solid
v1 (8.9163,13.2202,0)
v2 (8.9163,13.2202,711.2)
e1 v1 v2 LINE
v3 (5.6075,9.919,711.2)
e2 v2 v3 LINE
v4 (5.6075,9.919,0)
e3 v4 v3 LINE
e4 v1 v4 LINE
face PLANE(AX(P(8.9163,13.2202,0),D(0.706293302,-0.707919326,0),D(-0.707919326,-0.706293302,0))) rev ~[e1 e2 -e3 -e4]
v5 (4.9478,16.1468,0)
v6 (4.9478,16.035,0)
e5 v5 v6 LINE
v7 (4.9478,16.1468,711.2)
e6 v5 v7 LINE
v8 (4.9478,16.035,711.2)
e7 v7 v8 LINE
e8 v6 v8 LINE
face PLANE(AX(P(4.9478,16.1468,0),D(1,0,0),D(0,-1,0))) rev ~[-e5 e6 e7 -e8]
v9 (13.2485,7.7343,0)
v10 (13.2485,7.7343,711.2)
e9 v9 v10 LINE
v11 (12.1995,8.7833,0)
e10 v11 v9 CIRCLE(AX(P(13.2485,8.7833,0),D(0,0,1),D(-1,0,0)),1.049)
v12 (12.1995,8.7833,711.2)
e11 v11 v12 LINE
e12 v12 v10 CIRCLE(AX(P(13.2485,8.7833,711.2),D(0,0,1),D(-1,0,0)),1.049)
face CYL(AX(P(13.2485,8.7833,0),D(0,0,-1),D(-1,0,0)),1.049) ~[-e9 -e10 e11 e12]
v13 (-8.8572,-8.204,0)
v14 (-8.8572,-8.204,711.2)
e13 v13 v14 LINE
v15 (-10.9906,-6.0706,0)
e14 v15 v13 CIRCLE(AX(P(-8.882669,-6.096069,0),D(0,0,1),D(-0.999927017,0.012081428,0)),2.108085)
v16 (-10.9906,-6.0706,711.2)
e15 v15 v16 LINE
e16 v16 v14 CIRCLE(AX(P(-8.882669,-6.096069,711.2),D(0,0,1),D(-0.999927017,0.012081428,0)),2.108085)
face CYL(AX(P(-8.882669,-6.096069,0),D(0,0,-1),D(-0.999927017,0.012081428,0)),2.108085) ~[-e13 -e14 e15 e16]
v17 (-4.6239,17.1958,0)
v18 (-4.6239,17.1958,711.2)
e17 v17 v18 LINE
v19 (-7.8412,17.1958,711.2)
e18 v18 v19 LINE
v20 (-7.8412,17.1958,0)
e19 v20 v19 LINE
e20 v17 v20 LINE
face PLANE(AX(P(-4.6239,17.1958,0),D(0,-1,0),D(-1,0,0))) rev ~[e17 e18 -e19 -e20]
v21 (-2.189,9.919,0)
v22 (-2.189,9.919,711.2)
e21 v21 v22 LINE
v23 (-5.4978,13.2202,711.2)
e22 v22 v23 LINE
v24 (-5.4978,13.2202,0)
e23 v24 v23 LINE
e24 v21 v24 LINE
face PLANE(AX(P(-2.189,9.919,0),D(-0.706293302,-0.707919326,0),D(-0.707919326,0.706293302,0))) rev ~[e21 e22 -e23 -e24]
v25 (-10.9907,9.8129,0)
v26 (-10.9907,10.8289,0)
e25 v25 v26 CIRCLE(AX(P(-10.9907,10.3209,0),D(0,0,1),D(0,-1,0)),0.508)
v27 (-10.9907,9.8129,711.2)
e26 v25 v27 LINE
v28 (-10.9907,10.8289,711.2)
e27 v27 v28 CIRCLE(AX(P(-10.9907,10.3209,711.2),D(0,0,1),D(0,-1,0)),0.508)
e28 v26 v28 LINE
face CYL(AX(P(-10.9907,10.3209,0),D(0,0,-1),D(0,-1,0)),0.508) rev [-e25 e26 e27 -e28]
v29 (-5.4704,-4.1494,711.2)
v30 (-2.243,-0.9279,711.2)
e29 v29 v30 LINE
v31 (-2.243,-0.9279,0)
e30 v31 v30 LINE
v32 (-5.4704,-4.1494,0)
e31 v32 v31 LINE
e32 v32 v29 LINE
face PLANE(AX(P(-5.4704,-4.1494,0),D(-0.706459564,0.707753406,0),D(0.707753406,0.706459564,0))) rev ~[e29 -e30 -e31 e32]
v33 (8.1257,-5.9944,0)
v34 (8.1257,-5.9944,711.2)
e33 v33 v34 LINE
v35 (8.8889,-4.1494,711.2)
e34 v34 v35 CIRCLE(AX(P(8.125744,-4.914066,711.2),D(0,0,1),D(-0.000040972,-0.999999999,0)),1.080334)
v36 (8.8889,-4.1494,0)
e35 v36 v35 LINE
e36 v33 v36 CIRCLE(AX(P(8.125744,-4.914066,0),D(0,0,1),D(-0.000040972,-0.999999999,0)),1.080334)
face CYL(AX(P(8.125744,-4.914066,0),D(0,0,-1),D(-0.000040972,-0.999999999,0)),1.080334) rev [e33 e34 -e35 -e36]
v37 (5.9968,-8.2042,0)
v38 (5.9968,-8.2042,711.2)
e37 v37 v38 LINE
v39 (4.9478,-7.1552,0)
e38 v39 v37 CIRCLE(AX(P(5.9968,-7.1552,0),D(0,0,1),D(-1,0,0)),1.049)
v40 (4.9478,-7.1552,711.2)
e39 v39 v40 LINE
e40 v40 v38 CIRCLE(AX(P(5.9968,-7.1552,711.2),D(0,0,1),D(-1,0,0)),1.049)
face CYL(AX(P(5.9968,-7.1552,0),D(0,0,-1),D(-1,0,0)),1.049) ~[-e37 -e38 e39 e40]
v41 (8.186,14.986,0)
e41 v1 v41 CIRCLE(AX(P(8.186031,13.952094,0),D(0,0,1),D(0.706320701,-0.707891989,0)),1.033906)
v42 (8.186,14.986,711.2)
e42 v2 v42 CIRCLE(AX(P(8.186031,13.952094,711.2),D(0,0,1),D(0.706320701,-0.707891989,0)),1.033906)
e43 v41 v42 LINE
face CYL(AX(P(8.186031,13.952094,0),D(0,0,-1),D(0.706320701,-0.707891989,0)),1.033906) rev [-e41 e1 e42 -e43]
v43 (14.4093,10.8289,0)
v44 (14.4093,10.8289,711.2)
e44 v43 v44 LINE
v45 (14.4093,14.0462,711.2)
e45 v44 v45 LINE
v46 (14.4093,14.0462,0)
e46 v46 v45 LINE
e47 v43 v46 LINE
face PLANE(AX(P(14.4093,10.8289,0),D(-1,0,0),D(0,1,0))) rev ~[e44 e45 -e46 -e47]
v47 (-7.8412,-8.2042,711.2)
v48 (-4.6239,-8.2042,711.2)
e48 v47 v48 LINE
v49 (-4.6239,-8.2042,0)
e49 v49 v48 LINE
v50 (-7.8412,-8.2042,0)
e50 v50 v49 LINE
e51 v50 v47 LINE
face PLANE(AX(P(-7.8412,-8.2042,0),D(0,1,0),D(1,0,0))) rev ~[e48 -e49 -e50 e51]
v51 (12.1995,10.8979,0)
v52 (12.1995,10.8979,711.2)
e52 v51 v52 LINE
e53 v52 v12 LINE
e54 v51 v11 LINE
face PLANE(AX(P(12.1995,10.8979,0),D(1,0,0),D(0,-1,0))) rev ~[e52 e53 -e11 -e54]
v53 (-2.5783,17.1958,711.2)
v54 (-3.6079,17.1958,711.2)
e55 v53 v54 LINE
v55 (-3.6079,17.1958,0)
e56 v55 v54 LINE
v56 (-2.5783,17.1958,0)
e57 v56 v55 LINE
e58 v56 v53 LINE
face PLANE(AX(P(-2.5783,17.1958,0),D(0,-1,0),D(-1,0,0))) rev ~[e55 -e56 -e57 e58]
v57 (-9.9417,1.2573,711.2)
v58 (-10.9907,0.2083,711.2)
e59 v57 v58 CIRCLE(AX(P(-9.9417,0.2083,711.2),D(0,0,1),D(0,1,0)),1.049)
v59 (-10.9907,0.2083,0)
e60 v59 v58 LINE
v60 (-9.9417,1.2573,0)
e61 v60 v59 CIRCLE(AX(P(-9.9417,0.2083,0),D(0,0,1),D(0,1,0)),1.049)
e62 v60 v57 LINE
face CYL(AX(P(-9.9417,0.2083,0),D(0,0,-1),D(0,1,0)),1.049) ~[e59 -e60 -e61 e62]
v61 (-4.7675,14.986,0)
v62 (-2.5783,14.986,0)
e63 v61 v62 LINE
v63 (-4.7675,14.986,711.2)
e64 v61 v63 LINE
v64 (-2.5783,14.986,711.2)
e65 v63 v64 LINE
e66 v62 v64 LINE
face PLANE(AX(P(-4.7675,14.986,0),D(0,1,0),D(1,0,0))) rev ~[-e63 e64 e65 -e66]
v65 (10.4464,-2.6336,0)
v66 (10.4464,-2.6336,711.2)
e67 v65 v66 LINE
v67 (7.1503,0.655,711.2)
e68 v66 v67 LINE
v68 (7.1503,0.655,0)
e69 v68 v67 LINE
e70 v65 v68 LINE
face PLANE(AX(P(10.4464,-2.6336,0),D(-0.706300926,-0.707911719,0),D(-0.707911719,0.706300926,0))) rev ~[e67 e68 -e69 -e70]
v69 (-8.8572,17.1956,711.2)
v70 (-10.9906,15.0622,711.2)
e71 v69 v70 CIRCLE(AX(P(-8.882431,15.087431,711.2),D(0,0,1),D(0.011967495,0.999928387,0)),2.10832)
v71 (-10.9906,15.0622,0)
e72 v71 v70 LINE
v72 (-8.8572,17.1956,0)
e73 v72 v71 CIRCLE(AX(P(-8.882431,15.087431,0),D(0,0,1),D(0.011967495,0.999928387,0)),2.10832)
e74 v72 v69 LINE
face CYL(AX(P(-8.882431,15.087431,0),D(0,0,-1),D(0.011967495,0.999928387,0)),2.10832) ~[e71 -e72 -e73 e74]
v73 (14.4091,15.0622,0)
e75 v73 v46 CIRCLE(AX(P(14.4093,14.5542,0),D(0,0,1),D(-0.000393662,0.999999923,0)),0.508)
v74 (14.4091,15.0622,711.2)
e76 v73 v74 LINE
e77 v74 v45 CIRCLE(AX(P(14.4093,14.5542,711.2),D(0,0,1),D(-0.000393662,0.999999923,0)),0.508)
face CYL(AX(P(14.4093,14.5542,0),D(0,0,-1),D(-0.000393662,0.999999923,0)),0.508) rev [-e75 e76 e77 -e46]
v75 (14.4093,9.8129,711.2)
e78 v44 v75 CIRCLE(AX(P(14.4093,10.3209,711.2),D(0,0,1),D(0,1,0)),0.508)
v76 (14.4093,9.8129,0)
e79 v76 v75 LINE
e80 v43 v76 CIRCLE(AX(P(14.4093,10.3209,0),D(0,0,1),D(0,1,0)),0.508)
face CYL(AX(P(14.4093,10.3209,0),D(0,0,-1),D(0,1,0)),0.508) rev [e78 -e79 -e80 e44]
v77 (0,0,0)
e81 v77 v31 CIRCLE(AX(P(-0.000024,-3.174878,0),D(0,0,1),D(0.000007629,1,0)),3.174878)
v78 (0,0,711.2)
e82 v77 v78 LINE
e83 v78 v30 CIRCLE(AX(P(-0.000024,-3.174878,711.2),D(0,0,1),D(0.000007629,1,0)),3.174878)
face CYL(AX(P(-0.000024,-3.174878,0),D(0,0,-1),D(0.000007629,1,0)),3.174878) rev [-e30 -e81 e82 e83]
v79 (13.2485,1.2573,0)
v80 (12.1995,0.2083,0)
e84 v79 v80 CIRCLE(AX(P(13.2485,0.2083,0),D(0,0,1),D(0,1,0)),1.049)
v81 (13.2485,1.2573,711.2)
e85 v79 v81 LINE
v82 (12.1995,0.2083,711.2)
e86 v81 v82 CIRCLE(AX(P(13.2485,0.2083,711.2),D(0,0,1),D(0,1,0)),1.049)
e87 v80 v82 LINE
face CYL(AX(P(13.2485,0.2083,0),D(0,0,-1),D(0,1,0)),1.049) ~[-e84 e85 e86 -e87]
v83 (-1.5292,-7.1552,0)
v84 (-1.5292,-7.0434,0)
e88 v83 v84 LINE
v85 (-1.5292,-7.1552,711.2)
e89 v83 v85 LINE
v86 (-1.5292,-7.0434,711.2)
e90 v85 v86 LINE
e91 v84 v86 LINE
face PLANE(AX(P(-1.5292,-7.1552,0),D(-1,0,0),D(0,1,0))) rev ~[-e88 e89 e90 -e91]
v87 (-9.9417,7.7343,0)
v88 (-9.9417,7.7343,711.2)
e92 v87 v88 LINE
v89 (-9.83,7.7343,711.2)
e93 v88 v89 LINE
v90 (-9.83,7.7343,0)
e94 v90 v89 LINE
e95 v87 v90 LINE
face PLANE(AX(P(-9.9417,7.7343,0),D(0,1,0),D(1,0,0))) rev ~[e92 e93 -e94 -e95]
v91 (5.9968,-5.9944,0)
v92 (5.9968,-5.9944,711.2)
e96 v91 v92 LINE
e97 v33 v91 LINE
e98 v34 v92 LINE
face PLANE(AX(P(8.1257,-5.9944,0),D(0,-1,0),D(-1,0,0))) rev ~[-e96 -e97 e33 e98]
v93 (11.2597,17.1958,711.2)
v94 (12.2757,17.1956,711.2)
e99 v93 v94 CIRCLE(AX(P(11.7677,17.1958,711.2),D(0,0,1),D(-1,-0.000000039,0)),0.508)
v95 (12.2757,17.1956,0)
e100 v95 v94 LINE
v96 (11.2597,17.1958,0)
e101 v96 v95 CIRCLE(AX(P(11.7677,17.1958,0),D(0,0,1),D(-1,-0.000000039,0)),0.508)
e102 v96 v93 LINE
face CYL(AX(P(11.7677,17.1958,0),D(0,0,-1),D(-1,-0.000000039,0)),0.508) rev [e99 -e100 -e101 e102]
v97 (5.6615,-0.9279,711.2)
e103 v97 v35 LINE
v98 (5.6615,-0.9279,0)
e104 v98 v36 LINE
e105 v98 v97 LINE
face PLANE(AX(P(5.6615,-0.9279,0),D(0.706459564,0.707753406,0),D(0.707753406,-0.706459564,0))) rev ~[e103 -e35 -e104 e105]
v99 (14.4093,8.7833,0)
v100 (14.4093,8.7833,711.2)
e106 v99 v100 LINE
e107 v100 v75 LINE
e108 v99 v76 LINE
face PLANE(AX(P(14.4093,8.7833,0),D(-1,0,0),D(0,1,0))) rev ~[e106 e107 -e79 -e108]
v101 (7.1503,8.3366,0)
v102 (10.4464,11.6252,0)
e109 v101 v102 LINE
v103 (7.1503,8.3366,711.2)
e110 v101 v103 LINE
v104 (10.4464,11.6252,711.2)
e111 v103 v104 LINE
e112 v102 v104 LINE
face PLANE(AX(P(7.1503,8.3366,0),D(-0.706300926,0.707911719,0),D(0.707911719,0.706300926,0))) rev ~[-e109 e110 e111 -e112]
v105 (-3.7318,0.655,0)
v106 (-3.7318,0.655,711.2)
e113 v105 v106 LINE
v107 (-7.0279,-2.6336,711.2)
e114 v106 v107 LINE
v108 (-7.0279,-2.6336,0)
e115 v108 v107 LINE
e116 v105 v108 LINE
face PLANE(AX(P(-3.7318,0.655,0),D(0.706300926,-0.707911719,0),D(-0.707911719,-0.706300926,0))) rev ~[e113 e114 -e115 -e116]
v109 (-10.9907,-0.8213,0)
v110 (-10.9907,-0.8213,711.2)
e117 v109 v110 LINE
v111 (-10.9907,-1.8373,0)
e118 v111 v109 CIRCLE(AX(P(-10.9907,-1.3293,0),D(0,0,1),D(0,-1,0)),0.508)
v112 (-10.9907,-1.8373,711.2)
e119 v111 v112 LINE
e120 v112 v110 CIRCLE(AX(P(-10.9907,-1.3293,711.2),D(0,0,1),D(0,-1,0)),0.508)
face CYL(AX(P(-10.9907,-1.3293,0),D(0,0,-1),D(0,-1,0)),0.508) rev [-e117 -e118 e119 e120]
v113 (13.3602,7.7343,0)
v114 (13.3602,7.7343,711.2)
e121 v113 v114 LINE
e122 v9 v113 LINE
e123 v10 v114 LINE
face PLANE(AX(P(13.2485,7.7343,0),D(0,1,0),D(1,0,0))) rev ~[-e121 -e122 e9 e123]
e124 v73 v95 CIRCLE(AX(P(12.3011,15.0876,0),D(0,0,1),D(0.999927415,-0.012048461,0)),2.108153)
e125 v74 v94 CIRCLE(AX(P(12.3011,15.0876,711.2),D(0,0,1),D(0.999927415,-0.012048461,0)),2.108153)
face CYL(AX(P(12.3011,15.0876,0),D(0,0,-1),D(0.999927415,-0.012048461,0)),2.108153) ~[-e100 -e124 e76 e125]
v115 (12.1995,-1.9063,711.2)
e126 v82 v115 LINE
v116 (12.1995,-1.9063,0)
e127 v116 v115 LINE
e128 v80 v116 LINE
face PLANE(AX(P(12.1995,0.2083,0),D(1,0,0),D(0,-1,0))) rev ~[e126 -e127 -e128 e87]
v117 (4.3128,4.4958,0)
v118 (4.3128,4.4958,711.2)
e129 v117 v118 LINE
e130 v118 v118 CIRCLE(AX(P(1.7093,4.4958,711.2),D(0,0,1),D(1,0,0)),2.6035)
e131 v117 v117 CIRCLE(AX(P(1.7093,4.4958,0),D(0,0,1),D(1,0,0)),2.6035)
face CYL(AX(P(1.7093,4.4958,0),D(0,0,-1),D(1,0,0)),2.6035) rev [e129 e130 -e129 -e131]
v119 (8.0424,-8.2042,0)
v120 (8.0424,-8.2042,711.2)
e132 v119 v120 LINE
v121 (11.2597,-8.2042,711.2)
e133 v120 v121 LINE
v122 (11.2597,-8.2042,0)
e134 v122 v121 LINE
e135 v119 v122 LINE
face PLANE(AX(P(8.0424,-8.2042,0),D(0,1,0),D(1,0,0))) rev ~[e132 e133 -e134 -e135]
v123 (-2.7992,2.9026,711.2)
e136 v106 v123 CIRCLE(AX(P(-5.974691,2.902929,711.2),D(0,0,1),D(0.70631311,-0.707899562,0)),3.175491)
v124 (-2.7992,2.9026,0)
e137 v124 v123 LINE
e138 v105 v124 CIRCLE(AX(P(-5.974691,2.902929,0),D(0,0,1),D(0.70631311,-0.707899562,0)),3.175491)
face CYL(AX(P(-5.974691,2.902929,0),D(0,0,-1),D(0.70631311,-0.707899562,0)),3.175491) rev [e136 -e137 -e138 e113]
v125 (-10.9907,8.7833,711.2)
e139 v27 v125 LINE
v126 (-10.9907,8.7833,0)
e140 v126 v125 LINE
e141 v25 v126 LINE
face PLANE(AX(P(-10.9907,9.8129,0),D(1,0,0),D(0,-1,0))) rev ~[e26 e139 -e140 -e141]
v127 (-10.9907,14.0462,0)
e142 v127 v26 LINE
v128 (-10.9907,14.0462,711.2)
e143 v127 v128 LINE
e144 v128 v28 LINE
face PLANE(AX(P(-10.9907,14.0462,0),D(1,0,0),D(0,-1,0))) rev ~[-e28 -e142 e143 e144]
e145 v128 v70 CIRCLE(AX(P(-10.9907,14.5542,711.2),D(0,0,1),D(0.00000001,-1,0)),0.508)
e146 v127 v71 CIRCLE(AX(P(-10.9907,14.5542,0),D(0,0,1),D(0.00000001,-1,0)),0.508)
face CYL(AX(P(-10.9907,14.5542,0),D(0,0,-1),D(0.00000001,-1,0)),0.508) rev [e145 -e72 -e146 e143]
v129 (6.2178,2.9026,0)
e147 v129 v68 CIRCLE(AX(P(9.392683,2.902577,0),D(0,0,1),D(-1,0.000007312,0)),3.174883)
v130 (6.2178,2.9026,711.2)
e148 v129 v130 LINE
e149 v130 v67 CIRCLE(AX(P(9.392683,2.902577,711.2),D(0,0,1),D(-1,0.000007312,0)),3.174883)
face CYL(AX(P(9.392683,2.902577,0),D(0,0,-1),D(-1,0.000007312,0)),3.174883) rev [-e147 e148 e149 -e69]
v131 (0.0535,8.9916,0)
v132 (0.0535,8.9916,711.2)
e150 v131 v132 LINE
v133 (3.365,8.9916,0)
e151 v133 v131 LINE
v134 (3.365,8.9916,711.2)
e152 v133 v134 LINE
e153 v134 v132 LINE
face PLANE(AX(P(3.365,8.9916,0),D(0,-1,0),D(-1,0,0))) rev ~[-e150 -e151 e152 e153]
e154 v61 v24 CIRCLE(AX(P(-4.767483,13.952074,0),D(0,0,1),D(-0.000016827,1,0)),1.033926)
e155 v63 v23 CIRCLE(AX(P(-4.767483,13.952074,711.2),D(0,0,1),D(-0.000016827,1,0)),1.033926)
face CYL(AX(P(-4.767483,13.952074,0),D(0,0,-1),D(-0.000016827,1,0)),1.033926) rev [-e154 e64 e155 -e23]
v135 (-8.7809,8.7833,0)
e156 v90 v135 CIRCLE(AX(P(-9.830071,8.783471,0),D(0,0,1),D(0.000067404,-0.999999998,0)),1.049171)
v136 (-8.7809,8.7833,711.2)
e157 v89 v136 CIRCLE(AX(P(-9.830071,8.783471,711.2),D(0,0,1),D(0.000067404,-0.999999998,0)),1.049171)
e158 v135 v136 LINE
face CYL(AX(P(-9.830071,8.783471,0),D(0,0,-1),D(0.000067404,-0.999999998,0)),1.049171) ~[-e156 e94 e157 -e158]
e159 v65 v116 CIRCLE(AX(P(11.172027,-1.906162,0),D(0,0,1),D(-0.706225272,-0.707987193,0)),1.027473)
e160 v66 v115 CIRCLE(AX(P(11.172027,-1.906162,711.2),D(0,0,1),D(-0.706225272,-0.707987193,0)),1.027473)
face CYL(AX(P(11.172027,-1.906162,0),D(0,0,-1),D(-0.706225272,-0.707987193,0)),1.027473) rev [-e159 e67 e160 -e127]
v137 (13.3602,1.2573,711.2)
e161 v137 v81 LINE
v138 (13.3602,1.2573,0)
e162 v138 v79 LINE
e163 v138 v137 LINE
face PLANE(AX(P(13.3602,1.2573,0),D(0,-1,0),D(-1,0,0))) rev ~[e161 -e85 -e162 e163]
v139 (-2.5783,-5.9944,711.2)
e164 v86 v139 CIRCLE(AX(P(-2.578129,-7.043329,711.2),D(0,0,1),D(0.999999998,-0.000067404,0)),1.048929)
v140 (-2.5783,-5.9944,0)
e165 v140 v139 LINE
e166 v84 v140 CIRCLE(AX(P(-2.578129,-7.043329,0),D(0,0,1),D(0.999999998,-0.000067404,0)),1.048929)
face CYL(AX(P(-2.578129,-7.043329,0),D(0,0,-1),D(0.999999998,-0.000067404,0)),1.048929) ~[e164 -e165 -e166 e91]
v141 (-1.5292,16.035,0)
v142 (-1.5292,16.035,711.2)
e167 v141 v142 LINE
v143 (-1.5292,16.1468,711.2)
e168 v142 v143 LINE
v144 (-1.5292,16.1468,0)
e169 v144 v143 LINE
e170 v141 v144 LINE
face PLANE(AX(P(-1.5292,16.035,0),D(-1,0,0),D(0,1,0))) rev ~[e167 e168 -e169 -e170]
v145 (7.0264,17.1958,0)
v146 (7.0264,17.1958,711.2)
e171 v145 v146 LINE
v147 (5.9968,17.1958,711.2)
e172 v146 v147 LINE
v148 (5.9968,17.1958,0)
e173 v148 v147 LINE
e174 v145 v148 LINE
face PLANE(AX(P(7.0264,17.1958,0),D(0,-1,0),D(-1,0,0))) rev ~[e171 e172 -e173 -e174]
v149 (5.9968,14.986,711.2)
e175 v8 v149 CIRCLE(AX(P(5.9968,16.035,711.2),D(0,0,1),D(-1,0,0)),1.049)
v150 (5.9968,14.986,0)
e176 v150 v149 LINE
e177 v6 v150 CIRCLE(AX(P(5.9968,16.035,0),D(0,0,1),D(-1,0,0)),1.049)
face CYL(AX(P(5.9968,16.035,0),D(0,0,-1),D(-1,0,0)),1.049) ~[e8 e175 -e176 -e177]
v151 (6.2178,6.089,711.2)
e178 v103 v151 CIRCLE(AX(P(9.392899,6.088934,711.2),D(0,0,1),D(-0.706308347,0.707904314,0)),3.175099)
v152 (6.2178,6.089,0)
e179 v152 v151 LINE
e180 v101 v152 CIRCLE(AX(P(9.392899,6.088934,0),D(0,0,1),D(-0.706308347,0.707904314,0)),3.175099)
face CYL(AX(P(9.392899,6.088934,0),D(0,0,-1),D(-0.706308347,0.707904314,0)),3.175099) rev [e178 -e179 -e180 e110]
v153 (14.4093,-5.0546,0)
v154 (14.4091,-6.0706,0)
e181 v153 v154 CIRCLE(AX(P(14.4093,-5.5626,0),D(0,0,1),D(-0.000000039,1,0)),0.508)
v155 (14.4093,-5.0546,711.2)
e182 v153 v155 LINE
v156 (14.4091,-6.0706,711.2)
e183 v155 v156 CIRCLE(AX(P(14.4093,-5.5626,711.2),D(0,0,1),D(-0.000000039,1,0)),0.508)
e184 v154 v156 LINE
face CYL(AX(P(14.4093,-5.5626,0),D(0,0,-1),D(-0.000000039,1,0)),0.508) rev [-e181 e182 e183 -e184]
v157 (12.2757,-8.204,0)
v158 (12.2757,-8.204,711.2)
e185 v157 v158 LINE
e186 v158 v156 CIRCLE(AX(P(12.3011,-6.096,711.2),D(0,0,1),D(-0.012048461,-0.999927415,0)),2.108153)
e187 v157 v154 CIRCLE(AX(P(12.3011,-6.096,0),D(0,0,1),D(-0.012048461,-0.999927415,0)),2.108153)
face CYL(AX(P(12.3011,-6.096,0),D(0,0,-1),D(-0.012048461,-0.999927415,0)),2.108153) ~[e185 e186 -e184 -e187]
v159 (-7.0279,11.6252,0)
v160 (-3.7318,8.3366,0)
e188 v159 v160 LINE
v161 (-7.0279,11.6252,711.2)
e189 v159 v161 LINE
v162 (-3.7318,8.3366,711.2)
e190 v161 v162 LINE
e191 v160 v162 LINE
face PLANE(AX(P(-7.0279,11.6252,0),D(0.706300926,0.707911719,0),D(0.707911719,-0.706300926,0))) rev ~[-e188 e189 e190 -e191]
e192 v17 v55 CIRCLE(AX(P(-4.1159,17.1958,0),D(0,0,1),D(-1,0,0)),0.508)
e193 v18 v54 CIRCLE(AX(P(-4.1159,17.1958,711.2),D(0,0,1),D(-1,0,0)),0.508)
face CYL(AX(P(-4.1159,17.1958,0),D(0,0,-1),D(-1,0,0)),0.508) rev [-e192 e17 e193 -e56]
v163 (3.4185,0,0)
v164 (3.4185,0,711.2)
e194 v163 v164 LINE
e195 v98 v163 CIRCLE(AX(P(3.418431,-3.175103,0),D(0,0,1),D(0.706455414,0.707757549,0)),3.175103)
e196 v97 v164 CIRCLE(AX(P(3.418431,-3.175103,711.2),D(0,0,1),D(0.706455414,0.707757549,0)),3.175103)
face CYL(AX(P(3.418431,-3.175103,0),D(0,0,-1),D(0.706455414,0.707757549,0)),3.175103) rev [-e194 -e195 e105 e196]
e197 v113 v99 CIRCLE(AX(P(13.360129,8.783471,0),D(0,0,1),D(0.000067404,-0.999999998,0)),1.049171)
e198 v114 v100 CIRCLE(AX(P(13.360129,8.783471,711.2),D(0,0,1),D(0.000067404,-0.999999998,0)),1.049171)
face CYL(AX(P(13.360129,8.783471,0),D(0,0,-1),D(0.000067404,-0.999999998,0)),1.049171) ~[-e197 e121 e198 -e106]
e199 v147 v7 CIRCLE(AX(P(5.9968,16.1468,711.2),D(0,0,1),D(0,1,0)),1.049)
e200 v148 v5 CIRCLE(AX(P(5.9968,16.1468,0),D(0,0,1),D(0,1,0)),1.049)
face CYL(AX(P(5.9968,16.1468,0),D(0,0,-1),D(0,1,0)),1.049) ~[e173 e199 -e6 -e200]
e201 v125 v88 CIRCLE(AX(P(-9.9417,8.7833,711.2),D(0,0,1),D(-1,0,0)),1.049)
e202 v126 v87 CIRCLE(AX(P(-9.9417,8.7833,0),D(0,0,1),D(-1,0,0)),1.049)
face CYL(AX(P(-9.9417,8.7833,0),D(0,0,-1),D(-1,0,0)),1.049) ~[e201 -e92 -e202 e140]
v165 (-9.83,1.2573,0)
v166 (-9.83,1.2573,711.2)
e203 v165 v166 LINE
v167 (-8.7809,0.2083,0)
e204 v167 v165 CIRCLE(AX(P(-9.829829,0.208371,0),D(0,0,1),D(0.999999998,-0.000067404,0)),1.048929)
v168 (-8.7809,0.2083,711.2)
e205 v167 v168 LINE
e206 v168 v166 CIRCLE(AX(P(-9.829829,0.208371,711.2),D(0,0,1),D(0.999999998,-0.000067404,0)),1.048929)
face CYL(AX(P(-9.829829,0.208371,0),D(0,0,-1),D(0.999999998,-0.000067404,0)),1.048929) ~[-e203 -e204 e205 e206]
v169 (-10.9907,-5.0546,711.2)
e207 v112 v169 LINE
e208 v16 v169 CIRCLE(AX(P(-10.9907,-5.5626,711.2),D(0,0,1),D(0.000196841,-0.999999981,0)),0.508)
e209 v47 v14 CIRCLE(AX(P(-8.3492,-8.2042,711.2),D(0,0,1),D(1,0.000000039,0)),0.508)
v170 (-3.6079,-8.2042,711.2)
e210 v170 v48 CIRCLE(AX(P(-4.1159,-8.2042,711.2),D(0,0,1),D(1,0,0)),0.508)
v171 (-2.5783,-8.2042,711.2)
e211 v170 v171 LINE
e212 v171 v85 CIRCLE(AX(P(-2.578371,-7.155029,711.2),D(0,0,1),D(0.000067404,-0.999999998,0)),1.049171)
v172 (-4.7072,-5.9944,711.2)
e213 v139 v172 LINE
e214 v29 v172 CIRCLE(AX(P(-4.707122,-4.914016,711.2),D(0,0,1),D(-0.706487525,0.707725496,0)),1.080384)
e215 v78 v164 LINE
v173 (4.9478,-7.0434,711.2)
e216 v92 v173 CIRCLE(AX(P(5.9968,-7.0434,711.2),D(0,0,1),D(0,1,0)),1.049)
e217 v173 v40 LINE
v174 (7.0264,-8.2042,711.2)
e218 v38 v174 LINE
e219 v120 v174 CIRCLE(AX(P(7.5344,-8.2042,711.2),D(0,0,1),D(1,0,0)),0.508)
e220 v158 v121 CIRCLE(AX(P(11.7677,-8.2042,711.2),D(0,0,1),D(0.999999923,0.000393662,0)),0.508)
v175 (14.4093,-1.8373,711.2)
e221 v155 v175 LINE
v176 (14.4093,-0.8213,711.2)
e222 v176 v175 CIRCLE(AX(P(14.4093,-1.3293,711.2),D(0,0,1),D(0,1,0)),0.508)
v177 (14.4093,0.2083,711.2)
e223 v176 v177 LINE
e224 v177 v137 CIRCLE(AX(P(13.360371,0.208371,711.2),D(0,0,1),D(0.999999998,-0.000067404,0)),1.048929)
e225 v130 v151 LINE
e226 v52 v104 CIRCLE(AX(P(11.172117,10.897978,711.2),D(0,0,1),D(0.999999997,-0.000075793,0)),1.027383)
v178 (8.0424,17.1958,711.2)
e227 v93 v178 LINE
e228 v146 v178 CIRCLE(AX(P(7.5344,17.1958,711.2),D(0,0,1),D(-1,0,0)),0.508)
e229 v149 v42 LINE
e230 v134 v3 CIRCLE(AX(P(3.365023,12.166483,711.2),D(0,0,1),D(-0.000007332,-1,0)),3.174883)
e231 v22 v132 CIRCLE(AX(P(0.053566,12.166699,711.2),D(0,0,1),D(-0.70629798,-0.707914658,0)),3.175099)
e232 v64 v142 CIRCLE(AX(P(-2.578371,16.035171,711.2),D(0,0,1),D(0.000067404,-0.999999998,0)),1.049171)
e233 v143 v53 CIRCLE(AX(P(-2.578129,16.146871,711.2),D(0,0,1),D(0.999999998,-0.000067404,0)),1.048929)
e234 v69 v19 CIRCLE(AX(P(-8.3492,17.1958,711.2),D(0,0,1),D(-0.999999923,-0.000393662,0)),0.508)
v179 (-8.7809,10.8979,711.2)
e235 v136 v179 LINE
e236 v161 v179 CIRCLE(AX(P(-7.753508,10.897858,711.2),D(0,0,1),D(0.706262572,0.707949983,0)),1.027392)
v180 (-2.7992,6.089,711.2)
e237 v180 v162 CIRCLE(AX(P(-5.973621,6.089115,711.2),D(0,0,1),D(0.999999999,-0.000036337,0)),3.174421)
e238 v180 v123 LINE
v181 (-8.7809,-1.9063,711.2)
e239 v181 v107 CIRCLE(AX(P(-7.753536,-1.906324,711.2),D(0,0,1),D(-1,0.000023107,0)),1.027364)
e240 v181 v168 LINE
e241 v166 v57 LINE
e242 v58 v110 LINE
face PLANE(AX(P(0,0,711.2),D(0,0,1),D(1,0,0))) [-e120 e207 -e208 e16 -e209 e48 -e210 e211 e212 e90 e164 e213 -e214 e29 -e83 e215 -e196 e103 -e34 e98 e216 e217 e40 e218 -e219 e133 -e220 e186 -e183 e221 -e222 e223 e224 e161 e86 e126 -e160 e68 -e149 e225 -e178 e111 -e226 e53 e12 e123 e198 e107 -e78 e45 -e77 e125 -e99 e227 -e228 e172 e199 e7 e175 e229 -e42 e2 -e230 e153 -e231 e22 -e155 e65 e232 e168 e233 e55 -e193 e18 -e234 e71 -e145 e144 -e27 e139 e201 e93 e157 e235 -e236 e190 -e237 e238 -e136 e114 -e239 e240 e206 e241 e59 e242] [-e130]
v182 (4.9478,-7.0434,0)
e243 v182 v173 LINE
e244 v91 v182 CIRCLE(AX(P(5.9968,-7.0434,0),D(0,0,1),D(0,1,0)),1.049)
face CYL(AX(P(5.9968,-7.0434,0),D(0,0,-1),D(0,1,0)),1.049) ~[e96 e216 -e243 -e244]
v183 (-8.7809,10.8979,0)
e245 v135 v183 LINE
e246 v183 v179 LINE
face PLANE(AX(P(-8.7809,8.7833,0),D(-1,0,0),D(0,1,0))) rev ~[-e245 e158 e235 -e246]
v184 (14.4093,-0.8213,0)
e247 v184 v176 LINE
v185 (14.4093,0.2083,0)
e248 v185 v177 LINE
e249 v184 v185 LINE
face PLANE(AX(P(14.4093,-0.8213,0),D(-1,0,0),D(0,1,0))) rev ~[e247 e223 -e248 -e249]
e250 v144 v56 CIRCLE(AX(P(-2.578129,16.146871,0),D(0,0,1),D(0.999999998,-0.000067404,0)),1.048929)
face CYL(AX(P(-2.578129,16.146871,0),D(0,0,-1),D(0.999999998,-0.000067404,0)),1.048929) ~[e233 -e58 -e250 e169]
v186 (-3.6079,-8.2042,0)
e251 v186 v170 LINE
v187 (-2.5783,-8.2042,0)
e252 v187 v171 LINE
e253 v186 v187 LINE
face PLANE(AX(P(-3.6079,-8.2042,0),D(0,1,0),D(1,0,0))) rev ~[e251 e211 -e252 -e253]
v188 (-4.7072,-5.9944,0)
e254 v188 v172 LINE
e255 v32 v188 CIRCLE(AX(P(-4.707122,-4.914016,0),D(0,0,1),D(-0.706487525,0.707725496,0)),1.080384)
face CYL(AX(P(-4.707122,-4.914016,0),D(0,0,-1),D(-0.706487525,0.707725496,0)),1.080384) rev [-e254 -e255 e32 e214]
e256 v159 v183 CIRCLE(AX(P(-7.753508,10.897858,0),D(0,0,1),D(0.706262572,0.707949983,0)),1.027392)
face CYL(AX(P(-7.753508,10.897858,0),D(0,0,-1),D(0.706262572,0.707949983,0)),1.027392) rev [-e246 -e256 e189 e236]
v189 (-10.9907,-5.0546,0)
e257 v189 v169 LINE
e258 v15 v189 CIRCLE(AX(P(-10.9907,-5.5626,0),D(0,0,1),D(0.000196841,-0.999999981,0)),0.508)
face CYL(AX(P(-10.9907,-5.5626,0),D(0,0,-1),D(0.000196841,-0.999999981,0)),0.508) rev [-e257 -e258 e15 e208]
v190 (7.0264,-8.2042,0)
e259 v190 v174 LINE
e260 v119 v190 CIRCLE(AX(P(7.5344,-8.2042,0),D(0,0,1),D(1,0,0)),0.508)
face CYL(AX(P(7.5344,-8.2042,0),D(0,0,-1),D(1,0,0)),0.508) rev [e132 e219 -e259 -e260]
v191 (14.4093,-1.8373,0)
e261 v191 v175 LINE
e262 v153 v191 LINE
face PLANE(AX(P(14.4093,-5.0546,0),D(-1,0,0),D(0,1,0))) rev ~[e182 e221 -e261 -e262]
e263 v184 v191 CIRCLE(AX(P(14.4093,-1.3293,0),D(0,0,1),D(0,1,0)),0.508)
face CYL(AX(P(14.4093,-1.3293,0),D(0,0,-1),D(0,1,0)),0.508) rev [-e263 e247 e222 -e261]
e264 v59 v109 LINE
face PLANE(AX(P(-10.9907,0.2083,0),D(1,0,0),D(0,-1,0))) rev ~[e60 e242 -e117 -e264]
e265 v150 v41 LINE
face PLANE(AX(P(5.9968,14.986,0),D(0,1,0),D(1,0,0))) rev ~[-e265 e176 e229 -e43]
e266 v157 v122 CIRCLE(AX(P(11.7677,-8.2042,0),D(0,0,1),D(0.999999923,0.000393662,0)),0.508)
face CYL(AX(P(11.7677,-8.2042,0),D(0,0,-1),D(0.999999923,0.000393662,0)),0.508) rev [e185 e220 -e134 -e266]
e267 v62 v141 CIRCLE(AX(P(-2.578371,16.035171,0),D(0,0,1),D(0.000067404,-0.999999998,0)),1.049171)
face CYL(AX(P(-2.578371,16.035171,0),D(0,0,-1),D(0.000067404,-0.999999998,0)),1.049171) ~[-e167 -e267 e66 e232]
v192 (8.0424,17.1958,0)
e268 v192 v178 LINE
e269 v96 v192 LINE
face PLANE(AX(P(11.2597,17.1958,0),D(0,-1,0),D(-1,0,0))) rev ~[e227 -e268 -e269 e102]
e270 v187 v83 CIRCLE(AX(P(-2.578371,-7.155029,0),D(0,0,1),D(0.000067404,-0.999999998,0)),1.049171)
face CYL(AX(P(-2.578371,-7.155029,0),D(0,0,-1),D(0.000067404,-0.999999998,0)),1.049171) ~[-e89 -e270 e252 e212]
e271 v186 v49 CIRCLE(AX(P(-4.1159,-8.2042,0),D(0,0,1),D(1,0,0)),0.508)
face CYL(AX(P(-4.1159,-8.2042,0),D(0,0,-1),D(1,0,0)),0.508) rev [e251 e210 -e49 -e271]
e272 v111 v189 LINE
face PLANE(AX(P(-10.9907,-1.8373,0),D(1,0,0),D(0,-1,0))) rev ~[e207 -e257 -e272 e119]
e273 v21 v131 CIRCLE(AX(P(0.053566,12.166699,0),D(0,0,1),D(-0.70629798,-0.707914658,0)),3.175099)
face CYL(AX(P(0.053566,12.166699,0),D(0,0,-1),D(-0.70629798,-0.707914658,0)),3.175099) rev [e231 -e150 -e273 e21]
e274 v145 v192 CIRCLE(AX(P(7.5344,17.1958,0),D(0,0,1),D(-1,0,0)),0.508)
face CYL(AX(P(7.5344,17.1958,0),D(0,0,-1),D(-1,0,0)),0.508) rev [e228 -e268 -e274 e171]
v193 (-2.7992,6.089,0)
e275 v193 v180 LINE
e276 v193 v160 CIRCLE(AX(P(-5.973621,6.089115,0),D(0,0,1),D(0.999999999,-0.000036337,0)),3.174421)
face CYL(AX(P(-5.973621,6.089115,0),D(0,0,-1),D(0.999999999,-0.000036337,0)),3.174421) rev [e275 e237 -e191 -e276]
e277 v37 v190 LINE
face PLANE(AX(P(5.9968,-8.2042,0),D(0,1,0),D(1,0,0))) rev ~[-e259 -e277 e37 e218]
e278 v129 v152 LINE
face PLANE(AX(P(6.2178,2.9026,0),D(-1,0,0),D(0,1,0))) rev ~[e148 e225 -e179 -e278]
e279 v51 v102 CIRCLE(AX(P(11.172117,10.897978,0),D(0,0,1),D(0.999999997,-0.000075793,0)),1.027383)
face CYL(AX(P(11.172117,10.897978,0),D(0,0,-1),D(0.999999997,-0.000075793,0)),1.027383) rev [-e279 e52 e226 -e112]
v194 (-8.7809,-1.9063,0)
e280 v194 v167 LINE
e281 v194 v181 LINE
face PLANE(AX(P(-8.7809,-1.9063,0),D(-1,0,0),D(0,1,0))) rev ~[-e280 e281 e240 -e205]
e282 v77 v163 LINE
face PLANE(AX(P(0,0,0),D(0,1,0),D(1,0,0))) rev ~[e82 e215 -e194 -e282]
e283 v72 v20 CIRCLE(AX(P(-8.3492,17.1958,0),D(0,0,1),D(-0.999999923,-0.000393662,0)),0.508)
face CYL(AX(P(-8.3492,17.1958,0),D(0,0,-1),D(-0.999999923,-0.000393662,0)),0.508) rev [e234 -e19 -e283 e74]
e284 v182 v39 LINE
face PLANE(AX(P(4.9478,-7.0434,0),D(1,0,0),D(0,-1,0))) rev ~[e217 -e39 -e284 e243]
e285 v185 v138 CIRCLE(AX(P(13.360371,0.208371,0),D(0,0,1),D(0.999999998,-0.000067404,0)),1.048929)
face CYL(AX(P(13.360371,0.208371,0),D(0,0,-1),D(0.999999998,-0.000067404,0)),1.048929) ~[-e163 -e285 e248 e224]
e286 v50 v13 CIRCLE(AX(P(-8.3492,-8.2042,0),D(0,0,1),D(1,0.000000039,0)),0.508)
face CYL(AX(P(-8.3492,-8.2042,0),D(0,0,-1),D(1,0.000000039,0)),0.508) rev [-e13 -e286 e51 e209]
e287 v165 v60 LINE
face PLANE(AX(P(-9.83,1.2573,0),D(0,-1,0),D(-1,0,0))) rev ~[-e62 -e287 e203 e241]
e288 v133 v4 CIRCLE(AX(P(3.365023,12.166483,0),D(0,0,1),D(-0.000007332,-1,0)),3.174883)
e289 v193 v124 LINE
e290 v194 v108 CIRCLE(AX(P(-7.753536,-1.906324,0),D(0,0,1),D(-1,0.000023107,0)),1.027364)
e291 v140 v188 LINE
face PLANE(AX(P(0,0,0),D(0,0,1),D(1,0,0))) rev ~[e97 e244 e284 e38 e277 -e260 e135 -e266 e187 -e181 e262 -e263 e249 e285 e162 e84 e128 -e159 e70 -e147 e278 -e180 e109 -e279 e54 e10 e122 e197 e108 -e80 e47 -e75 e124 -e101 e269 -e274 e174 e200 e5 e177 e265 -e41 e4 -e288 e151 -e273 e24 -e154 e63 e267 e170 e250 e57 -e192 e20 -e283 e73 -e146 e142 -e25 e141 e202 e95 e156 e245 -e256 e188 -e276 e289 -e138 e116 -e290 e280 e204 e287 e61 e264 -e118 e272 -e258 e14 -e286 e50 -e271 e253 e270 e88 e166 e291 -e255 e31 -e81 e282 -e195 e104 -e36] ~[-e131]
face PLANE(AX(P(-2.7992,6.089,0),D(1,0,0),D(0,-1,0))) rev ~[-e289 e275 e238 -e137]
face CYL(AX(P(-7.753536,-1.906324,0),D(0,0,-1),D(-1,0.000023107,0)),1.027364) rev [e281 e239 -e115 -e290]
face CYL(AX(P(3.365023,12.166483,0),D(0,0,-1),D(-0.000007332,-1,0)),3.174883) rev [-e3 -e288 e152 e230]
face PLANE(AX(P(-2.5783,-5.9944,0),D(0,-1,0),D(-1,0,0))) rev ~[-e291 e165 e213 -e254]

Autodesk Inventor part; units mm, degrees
ref_plane "YZ Plane" through (0, 0, 0) normal (1, 0, 0) x (0, 1, 0)
ref_plane "XZ Plane" through (0, 0, 0) normal (0, 1, 0) x (-1, 0, 0)
ref_plane "XY Plane" through (0, 0, 0) normal (0, 0, 1) x (1, 0, 0)
sketch "Sketch1" plane through (0, 0, 0) normal (0, 0, 1) x (1, 0, 0)
  arc A0 (-5.4704, -4.1494) -> (-4.7072, -5.9944) centre (-4.7072, -4.914) ccw
  line L0 (-5.4704, -4.1494) -> (-2.243, -0.9279)
  arc A1 (0, 0) -> (-2.243, -0.9279) centre (0, -3.175) ccw
  line L1 (0, 0) -> (3.4185, 0)
  arc A2 (5.6615, -0.9279) -> (3.4185, 0) centre (3.4185, -3.175) ccw
  line L2 (5.6615, -0.9279) -> (8.8889, -4.1494)
  arc A3 (8.1257, -5.9944) -> (8.8889, -4.1494) centre (8.1257, -4.914) ccw
  line L3 (8.1257, -5.9944) -> (5.9968, -5.9944)
  arc A4 (5.9968, -5.9944) -> (4.9478, -7.0434) centre (5.9968, -7.0434) ccw
  line L4 (4.9478, -7.0434) -> (4.9478, -7.1552)
  arc A5 (4.9478, -7.1552) -> (5.9968, -8.2042) centre (5.9968, -7.1552) ccw
  line L5 (5.9968, -8.2042) -> (7.0264, -8.2042)
  arc A6 (8.0424, -8.2042) -> (7.0264, -8.2042) centre (7.5344, -8.2042) ccw
  line L6 (8.0424, -8.2042) -> (11.2597, -8.2042)
  arc A7 (12.2757, -8.204) -> (11.2597, -8.2042) centre (11.7677, -8.2042) ccw
  arc A8 (12.2757, -8.204) -> (14.4091, -6.0706) centre (12.3011, -6.096) ccw
  arc A9 (14.4093, -5.0546) -> (14.4091, -6.0706) centre (14.4093, -5.5626) ccw
  line L7 (14.4093, -5.0546) -> (14.4093, -1.8373)
  arc A10 (14.4093, -0.8213) -> (14.4093, -1.8373) centre (14.4093, -1.3293) ccw
  line L8 (14.4093, -0.8213) -> (14.4093, 0.2083)
  arc A11 (14.4093, 0.2083) -> (13.3602, 1.2573) centre (13.3602, 0.2083) ccw
  line L9 (13.3602, 1.2573) -> (13.2485, 1.2573)
  arc A12 (13.2485, 1.2573) -> (12.1995, 0.2083) centre (13.2485, 0.2083) ccw
  line L10 (12.1995, 0.2083) -> (12.1995, -1.9063)
  arc A13 (10.4464, -2.6336) -> (12.1995, -1.9063) centre (11.172, -1.9063) ccw
  line L11 (10.4464, -2.6336) -> (7.1503, 0.655)
  arc A14 (6.2178, 2.9026) -> (7.1503, 0.655) centre (9.3928, 2.9026) ccw
  line L12 (6.2178, 2.9026) -> (6.2178, 6.089)
  arc A15 (7.1503, 8.3366) -> (6.2178, 6.089) centre (9.3928, 6.089) ccw
  line L13 (7.1503, 8.3366) -> (10.4464, 11.6252)
  arc A16 (12.1995, 10.8979) -> (10.4464, 11.6252) centre (11.172, 10.8979) ccw
  line L14 (12.1995, 10.8979) -> (12.1995, 8.7833)
  arc A17 (12.1995, 8.7833) -> (13.2485, 7.7343) centre (13.2485, 8.7833) ccw
  line L15 (13.2485, 7.7343) -> (13.3602, 7.7343)
  arc A18 (13.3602, 7.7343) -> (14.4093, 8.7833) centre (13.3602, 8.7833) ccw
  line L16 (14.4093, 8.7833) -> (14.4093, 9.8129)
  arc A19 (14.4093, 10.8289) -> (14.4093, 9.8129) centre (14.4093, 10.3209) ccw
  line L17 (14.4093, 10.8289) -> (14.4093, 14.0462)
  arc A20 (14.4091, 15.0622) -> (14.4093, 14.0462) centre (14.4093, 14.5542) ccw
  arc A21 (14.4091, 15.0622) -> (12.2757, 17.1956) centre (12.3011, 15.0876) ccw
  arc A22 (11.2597, 17.1958) -> (12.2757, 17.1956) centre (11.7677, 17.1958) ccw
  line L18 (11.2597, 17.1958) -> (8.0424, 17.1958)
  arc A23 (7.0264, 17.1958) -> (8.0424, 17.1958) centre (7.5344, 17.1958) ccw
  line L19 (7.0264, 17.1958) -> (5.9968, 17.1958)
  arc A24 (5.9968, 17.1958) -> (4.9478, 16.1468) centre (5.9968, 16.1468) ccw
  line L20 (4.9478, 16.1468) -> (4.9478, 16.035)
  arc A25 (4.9478, 16.035) -> (5.9968, 14.986) centre (5.9968, 16.035) ccw
  line L21 (5.9968, 14.986) -> (8.186, 14.986)
  arc A26 (8.9163, 13.2202) -> (8.186, 14.986) centre (8.186, 13.9521) ccw
  line L22 (8.9163, 13.2202) -> (5.6075, 9.919)
  arc A27 (3.365, 8.9916) -> (5.6075, 9.919) centre (3.365, 12.1666) ccw
  line L23 (3.365, 8.9916) -> (0.0535, 8.9916)
  arc A28 (-2.189, 9.919) -> (0.0535, 8.9916) centre (0.0535, 12.1666) ccw
  line L24 (-2.189, 9.919) -> (-5.4978, 13.2202)
  arc A29 (-4.7675, 14.986) -> (-5.4978, 13.2202) centre (-4.7675, 13.9521) ccw
  line L25 (-4.7675, 14.986) -> (-2.5783, 14.986)
  arc A30 (-2.5783, 14.986) -> (-1.5292, 16.035) centre (-2.5783, 16.035) ccw
  line L26 (-1.5292, 16.035) -> (-1.5292, 16.1468)
  arc A31 (-1.5292, 16.1468) -> (-2.5783, 17.1958) centre (-2.5783, 16.1468) ccw
  line L27 (-2.5783, 17.1958) -> (-3.6079, 17.1958)
  arc A32 (-4.6239, 17.1958) -> (-3.6079, 17.1958) centre (-4.1159, 17.1958) ccw
  line L28 (-4.6239, 17.1958) -> (-7.8412, 17.1958)
  arc A33 (-8.8572, 17.1956) -> (-7.8412, 17.1958) centre (-8.3492, 17.1958) ccw
  arc A34 (-8.8572, 17.1956) -> (-10.9906, 15.0622) centre (-8.8825, 15.0876) ccw
  arc A35 (-10.9907, 14.0462) -> (-10.9906, 15.0622) centre (-10.9907, 14.5542) ccw
  line L29 (-10.9907, 14.0462) -> (-10.9907, 10.8289)
  arc A36 (-10.9907, 9.8129) -> (-10.9907, 10.8289) centre (-10.9907, 10.3209) ccw
  line L30 (-10.9907, 9.8129) -> (-10.9907, 8.7833)
  arc A37 (-10.9907, 8.7833) -> (-9.9417, 7.7343) centre (-9.9417, 8.7833) ccw
  line L31 (-9.9417, 7.7343) -> (-9.83, 7.7343)
  arc A38 (-9.83, 7.7343) -> (-8.7809, 8.7833) centre (-9.83, 8.7833) ccw
  line L32 (-8.7809, 8.7833) -> (-8.7809, 10.8979)
  arc A39 (-7.0279, 11.6252) -> (-8.7809, 10.8979) centre (-7.7535, 10.8979) ccw
  line L33 (-7.0279, 11.6252) -> (-3.7318, 8.3366)
  arc A40 (-2.7992, 6.089) -> (-3.7318, 8.3366) centre (-5.9742, 6.089) ccw
  line L34 (-2.7992, 6.089) -> (-2.7992, 2.9026)
  arc A41 (-3.7318, 0.655) -> (-2.7992, 2.9026) centre (-5.9742, 2.9026) ccw
  line L35 (-3.7318, 0.655) -> (-7.0279, -2.6336)
  arc A42 (-8.7809, -1.9063) -> (-7.0279, -2.6336) centre (-7.7535, -1.9063) ccw
  line L36 (-8.7809, -1.9063) -> (-8.7809, 0.2083)
  arc A43 (-8.7809, 0.2083) -> (-9.83, 1.2573) centre (-9.83, 0.2083) ccw
  line L37 (-9.83, 1.2573) -> (-9.9417, 1.2573)
  arc A44 (-9.9417, 1.2573) -> (-10.9907, 0.2083) centre (-9.9417, 0.2083) ccw
  line L38 (-10.9907, 0.2083) -> (-10.9907, -0.8213)
  arc A45 (-10.9907, -1.8373) -> (-10.9907, -0.8213) centre (-10.9907, -1.3293) ccw
  line L39 (-10.9907, -1.8373) -> (-10.9907, -5.0546)
  arc A46 (-10.9906, -6.0706) -> (-10.9907, -5.0546) centre (-10.9907, -5.5626) ccw
  arc A47 (-10.9906, -6.0706) -> (-8.8572, -8.204) centre (-8.8825, -6.096) ccw
  arc A48 (-7.8412, -8.2042) -> (-8.8572, -8.204) centre (-8.3492, -8.2042) ccw
  line L40 (-7.8412, -8.2042) -> (-4.6239, -8.2042)
  arc A49 (-3.6079, -8.2042) -> (-4.6239, -8.2042) centre (-4.1159, -8.2042) ccw
  line L41 (-3.6079, -8.2042) -> (-2.5783, -8.2042)
  arc A50 (-2.5783, -8.2042) -> (-1.5292, -7.1552) centre (-2.5783, -7.1552) ccw
  line L42 (-1.5292, -7.1552) -> (-1.5292, -7.0434)
  arc A51 (-1.5292, -7.0434) -> (-2.5783, -5.9944) centre (-2.5783, -7.0434) ccw
  line L43 (-2.5783, -5.9944) -> (-4.7072, -5.9944)
  circle A52 centre (1.7093, 4.4958) radius 2.6035
extrude "Extrusion1" add sketch "Sketch1" along normal blind 711.2
properties part number "28 in 1x1 T slot" material "Steel, Alloy"
